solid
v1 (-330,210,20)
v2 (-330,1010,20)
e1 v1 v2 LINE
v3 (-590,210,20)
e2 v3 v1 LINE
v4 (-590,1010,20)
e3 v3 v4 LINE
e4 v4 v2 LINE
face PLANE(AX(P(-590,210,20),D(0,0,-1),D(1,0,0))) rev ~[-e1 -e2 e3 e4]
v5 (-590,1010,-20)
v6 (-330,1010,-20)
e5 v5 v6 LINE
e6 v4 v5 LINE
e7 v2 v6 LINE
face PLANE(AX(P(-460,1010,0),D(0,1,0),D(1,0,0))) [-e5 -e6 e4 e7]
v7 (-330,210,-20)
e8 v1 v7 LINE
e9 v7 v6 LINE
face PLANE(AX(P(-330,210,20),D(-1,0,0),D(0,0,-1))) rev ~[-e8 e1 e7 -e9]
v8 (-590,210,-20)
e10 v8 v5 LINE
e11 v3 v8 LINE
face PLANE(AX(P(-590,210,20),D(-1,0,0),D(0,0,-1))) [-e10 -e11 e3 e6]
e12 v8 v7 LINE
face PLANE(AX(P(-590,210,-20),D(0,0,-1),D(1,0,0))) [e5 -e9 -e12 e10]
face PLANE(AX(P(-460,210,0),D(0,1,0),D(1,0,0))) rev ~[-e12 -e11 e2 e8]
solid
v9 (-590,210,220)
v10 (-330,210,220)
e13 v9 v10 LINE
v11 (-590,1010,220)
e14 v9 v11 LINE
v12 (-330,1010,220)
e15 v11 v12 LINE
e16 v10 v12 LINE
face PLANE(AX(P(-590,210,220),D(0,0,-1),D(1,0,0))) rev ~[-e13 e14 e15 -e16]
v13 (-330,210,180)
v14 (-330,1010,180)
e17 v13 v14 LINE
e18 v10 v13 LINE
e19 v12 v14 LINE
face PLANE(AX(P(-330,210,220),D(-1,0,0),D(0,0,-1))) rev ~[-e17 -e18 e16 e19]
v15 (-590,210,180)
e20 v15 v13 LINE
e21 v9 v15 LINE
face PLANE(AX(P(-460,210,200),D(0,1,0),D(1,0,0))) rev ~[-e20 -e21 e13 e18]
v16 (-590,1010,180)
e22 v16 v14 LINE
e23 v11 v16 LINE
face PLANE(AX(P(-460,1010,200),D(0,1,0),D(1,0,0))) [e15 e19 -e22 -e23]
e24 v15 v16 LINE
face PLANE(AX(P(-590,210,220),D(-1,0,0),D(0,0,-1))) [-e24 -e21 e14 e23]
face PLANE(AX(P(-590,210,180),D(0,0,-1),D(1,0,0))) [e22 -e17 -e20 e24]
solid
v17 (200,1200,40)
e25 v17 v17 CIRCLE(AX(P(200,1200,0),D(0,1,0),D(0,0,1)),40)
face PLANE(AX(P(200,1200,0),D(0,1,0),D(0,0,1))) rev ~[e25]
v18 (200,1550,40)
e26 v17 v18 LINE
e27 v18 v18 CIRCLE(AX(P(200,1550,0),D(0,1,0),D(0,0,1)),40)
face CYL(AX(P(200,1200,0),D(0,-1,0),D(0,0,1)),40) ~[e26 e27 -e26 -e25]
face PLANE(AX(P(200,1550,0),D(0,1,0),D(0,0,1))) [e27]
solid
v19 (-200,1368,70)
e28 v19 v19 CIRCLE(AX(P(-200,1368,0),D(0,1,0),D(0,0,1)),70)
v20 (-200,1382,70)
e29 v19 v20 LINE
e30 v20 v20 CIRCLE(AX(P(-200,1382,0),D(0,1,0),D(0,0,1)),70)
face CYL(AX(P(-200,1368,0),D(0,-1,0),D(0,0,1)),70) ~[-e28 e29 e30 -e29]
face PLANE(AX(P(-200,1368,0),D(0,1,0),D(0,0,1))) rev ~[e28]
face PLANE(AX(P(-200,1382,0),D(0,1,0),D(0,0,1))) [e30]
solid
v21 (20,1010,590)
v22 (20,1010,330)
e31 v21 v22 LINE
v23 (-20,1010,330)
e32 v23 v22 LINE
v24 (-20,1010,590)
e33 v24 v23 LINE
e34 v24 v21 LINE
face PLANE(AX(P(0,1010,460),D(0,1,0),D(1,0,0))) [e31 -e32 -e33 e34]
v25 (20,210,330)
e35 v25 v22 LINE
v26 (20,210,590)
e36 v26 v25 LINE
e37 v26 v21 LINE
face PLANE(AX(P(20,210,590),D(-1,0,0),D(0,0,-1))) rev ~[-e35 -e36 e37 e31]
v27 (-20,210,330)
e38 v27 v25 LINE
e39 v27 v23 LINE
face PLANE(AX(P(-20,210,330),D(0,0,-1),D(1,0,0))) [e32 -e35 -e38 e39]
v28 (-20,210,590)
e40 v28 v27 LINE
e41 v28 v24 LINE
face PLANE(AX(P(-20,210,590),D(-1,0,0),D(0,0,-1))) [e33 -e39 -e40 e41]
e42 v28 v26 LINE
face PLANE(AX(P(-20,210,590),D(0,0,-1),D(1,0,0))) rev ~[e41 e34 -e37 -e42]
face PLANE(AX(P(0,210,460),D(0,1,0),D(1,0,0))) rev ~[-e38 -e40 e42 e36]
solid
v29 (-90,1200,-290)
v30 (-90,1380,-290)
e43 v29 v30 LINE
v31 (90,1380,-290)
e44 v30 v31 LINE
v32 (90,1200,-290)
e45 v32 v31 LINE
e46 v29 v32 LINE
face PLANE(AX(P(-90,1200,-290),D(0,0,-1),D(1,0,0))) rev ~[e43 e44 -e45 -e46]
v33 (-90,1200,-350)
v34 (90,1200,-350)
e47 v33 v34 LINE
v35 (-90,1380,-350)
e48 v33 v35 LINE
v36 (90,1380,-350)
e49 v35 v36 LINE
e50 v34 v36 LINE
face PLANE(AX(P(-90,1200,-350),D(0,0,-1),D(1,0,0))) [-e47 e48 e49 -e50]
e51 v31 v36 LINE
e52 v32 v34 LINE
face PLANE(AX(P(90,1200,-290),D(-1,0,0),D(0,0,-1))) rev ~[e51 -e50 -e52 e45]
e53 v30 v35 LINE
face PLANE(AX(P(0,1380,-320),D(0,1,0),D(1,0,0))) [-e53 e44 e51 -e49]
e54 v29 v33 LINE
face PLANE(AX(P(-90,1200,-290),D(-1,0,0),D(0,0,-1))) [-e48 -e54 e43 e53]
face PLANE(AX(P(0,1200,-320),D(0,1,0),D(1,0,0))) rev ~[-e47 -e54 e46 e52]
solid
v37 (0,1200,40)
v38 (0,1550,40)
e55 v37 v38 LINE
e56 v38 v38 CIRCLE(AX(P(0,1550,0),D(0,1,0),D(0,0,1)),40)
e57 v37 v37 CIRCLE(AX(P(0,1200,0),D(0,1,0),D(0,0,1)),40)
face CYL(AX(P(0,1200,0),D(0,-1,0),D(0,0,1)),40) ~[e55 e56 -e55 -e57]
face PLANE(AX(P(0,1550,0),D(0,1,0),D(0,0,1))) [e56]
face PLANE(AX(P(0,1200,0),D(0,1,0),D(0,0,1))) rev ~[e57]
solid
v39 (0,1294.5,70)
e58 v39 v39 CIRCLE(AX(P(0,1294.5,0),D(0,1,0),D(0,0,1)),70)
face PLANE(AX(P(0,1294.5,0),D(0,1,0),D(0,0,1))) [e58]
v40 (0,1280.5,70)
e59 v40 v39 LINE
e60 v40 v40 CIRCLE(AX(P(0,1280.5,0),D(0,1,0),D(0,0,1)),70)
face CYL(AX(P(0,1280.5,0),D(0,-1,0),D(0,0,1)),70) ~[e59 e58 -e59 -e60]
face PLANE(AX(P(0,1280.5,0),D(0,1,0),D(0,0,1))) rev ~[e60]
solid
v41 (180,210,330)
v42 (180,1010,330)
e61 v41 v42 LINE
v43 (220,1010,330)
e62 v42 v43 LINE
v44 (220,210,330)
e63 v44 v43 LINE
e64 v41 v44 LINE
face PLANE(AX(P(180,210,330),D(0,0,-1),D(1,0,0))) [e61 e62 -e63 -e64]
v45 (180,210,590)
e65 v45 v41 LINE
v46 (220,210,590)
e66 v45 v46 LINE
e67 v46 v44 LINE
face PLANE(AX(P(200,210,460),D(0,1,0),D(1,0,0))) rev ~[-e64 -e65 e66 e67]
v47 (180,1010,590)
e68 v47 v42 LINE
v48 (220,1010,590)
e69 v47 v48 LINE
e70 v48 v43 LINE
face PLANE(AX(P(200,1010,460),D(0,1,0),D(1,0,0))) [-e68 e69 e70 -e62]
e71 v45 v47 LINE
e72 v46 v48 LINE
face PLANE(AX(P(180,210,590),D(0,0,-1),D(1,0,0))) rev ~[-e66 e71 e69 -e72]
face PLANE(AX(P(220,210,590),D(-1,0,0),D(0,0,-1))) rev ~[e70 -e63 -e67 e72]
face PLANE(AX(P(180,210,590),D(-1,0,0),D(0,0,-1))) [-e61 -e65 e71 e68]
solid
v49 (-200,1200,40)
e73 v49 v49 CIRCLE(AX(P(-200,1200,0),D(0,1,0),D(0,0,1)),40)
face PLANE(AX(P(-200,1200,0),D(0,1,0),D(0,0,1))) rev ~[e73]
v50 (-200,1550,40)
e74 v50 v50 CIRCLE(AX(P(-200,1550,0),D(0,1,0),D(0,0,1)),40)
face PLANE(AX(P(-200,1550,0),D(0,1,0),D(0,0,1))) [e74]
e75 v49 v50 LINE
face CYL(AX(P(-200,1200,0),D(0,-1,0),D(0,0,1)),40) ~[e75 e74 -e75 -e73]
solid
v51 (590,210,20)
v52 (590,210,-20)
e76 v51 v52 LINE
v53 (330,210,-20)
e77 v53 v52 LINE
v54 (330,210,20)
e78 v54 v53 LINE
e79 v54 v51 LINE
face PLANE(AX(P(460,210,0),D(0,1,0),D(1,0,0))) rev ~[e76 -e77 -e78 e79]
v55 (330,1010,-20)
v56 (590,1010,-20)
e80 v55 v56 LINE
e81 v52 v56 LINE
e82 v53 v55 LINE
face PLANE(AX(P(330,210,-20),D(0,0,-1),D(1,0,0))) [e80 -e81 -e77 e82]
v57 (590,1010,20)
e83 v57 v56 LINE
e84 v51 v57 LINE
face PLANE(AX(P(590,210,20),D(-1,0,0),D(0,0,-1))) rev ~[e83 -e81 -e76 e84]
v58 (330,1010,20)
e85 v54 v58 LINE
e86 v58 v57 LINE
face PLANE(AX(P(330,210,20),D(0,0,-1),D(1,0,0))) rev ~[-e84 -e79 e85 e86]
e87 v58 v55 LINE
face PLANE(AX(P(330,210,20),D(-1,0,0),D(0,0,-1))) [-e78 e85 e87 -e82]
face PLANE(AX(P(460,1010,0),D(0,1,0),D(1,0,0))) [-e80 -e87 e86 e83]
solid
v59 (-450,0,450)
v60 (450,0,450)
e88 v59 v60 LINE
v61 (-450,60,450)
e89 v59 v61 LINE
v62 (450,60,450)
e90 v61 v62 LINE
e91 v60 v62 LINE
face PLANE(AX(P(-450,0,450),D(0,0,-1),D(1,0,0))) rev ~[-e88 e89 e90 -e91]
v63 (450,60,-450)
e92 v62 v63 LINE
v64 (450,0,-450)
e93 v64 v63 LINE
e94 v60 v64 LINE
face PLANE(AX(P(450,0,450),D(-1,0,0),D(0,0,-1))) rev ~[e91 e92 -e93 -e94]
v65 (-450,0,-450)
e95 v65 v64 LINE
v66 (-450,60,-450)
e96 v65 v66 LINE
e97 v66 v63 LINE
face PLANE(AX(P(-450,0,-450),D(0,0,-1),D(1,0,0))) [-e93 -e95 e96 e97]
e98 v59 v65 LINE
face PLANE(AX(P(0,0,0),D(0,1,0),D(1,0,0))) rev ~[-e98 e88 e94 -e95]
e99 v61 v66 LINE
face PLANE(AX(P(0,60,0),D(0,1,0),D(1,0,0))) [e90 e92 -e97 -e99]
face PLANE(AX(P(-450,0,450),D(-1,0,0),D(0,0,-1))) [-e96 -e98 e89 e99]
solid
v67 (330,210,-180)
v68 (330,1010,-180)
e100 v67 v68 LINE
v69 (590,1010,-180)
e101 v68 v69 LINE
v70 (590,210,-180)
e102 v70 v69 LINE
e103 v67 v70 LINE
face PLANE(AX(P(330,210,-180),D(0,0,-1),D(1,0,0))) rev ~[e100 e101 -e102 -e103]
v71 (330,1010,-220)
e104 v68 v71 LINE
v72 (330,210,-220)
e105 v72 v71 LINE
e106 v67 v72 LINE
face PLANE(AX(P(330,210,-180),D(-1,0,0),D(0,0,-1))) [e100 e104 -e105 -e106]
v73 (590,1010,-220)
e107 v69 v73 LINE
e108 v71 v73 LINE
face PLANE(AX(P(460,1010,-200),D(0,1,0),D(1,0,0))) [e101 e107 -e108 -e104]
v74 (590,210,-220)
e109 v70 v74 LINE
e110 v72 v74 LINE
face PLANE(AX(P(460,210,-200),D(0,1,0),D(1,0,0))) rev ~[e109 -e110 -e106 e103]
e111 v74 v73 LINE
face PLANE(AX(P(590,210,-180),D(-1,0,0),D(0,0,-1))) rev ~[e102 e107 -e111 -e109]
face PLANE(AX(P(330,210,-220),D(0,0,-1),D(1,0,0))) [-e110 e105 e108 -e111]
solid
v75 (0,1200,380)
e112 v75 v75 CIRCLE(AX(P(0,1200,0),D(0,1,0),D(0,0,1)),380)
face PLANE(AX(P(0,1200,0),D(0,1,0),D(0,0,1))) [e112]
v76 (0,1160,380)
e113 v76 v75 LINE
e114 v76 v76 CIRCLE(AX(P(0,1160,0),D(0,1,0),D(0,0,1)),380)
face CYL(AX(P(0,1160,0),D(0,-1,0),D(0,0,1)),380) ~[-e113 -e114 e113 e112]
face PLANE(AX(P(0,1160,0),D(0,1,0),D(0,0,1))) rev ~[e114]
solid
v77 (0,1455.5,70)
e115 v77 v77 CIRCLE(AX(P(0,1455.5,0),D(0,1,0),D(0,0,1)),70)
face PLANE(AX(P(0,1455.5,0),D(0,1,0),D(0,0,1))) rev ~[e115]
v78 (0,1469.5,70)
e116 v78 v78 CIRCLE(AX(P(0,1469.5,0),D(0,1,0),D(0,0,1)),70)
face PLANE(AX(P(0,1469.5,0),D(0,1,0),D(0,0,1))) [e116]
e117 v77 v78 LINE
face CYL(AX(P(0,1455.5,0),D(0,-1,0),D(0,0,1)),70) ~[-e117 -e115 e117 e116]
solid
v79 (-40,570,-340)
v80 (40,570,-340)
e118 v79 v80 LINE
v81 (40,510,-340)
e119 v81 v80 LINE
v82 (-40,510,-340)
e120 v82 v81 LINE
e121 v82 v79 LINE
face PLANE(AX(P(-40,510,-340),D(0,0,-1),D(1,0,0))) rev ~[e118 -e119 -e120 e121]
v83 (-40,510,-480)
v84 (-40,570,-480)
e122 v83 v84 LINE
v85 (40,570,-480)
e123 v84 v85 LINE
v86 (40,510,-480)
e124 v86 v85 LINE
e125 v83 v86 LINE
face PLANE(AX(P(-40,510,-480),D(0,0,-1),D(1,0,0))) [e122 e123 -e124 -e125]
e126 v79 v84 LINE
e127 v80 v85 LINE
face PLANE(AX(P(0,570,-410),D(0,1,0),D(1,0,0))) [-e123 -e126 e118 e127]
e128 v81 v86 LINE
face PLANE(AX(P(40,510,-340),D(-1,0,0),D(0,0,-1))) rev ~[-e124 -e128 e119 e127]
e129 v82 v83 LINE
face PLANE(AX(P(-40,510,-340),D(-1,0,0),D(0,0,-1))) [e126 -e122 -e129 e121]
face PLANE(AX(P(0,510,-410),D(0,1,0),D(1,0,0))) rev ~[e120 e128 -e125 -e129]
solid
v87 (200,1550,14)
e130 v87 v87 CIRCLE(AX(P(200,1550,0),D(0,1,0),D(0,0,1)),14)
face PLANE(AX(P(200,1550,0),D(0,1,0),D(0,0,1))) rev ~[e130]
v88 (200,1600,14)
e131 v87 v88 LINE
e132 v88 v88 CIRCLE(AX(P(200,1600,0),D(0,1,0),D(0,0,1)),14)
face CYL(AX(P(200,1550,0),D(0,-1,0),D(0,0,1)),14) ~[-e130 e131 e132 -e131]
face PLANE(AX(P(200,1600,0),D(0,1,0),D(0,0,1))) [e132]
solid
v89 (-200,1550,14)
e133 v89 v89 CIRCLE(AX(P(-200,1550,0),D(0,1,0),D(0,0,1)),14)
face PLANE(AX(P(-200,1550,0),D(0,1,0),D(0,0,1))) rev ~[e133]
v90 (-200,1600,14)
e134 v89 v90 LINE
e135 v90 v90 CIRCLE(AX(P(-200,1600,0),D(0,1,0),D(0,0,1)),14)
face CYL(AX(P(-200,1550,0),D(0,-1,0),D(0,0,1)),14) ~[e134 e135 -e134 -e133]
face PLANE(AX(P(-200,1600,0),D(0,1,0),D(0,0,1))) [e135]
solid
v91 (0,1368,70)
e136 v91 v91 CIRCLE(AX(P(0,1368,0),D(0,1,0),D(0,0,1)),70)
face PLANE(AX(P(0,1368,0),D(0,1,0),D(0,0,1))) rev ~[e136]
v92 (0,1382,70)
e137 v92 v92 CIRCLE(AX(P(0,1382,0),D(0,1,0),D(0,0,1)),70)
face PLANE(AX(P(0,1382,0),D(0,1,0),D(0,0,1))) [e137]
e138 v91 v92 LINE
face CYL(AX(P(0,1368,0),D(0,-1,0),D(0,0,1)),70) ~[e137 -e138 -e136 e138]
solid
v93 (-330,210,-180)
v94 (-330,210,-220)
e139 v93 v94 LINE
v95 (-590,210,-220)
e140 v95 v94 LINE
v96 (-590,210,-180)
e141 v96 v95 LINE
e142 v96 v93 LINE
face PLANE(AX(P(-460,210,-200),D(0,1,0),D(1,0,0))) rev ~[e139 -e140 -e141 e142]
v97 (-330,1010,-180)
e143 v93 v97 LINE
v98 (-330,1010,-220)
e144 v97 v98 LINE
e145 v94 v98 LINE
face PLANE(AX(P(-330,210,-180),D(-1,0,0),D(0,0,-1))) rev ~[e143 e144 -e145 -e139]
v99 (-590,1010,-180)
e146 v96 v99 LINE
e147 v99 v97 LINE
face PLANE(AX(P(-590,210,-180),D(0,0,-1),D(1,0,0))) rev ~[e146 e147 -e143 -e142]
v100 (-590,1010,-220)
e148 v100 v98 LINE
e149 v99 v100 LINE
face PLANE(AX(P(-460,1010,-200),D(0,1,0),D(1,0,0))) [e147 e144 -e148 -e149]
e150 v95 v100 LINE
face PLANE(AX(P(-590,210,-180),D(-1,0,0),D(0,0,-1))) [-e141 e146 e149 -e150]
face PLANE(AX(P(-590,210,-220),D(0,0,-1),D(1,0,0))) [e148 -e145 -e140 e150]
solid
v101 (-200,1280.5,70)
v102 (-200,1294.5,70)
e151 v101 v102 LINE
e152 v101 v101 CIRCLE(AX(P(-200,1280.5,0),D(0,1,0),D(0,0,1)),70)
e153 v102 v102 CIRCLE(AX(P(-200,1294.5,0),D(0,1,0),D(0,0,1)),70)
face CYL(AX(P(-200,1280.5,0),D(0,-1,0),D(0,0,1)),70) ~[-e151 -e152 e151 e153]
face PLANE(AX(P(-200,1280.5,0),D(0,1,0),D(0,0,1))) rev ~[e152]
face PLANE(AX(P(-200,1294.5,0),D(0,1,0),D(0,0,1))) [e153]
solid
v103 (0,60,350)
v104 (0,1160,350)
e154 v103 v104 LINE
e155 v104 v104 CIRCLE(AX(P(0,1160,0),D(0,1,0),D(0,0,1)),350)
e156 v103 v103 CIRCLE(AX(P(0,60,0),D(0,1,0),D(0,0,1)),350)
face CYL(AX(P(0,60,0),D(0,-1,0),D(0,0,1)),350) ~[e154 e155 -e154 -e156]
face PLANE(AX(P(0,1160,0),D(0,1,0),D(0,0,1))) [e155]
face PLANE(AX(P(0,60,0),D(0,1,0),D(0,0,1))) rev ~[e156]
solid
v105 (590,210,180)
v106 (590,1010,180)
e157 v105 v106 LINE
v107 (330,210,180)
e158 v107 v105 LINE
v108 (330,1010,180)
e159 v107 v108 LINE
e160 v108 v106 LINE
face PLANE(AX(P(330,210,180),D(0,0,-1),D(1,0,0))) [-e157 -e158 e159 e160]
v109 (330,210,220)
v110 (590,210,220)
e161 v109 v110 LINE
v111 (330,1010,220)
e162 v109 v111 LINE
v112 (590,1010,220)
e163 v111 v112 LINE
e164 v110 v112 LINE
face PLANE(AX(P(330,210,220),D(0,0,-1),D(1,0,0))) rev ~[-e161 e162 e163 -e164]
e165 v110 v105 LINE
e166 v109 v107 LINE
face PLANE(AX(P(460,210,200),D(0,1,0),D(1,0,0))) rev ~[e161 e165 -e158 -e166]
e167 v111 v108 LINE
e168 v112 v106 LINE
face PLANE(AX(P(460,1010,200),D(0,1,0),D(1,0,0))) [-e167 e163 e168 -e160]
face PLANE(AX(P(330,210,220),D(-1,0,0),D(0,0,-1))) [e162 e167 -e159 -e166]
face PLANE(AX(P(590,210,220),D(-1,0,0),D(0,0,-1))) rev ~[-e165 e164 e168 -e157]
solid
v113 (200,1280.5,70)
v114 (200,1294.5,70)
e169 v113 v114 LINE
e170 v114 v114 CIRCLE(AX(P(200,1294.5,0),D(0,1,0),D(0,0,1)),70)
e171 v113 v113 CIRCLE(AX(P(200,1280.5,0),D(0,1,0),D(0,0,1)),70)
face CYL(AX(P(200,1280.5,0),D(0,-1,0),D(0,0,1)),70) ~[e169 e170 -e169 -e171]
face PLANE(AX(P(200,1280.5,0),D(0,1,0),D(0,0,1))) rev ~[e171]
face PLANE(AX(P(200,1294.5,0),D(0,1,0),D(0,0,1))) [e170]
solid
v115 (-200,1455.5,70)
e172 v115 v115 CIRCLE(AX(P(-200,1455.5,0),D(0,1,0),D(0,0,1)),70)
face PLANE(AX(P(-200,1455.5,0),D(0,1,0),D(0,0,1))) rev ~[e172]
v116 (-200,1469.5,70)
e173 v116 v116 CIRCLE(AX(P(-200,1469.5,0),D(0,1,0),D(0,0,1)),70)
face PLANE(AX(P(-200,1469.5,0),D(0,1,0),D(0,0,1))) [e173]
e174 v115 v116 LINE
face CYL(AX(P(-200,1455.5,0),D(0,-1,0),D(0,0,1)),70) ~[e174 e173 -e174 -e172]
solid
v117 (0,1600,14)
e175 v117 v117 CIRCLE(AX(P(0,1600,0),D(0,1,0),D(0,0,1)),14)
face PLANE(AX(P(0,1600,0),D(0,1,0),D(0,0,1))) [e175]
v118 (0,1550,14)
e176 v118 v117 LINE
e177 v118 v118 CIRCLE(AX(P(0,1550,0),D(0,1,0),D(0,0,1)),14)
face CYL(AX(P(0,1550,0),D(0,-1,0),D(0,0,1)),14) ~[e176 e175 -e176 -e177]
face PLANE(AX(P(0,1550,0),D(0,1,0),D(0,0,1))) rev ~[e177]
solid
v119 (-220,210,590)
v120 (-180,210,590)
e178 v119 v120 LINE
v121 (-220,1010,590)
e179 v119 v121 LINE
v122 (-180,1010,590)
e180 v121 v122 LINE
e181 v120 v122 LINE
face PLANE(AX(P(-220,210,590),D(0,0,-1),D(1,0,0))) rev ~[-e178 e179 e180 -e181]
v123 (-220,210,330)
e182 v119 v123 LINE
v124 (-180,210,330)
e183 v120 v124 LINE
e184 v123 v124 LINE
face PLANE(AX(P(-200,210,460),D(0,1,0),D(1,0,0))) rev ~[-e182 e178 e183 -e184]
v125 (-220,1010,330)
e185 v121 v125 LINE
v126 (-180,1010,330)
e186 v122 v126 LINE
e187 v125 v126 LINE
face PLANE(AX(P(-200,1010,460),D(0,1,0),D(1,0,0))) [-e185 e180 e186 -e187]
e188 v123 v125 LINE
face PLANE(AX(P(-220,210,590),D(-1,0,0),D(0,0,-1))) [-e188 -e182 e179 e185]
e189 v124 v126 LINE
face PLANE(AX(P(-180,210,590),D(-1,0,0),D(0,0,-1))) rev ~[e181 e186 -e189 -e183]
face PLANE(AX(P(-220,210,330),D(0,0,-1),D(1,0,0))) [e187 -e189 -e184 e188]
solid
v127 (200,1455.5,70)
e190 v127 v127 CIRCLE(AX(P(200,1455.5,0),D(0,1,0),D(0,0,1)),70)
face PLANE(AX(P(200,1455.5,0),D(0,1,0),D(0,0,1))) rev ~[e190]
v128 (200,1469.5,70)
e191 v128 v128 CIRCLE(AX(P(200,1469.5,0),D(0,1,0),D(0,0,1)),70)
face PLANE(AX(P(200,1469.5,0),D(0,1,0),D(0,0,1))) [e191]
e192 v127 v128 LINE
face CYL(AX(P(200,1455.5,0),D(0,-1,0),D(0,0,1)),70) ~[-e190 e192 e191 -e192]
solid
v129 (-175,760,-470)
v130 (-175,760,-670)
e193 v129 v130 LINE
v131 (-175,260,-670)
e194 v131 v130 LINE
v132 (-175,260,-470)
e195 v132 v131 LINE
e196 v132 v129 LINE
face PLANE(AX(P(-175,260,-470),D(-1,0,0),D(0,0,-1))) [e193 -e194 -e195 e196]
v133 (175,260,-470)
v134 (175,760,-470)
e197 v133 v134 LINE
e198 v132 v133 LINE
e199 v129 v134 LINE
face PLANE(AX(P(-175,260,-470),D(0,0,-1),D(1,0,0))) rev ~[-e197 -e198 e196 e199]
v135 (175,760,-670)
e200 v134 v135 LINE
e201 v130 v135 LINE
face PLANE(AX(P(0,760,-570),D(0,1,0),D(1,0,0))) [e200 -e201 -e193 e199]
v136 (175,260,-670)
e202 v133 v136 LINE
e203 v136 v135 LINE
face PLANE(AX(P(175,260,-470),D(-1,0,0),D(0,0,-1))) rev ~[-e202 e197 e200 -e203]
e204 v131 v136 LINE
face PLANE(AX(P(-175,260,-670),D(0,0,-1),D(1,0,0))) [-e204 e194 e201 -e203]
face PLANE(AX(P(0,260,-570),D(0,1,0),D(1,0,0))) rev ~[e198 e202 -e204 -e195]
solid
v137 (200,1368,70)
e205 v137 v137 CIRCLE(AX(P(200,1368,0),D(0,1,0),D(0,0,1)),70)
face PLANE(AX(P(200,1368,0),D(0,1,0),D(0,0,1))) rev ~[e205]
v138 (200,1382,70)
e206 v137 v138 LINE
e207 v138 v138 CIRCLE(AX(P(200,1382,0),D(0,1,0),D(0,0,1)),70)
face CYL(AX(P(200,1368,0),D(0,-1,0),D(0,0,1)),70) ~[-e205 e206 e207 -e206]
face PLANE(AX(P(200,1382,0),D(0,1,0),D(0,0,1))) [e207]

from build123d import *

# Parameters (mm, degrees)
SKETCH1_W                = 900
SKETCH1_H                = 900
BASE_DEPTH               = 60
TANK_START               = 60
SKETCH2_R                = 350
TANK_DEPTH               = 1100
LID_START                = 1160
SKETCH3_R                = 380
LID_DEPTH                = 40
FIN_START                = 210
SKETCH4_W                = 260
SKETCH4_H                = 40
FIN_X_1_DEPTH            = 800
SKETCH5_W                = 260
SKETCH5_H                = 40
FIN_X_1_2_DEPTH          = 800
SKETCH6_W                = 40
SKETCH6_H                = 260
FIN_Z_1_DEPTH            = 800
SKETCH7_W                = 260
SKETCH7_H                = 40
FIN_X_2_DEPTH            = 800
SKETCH8_W                = 260
SKETCH8_H                = 40
FIN_X_2_2_DEPTH          = 800
SKETCH9_W                = 40
SKETCH9_H                = 260
FIN_Z_2_DEPTH            = 800
SKETCH10_W               = 260
SKETCH10_H               = 40
FIN_X_3_DEPTH            = 800
SKETCH11_W               = 260
SKETCH11_H               = 40
FIN_X_3_2_DEPTH          = 800
SKETCH12_W               = 40
SKETCH12_H               = 260
FIN_Z_3_DEPTH            = 800
BUSHING_START            = 1200
SKETCH13_R               = 40
BUSHING_S_DEPTH          = 350
SHED_START               = 1280.5
SKETCH14_R               = 70
SHED_S_1_DEPTH           = 14
SHED_START_2             = 1368
SKETCH15_R               = 70
SHED_S_2_DEPTH           = 14
SHED_START_3             = 1455.5
SKETCH16_R               = 70
SHED_S_3_DEPTH           = 14
TERMINAL_START           = 1550
SKETCH17_R               = 14
TERMINAL_S_DEPTH         = 50
SKETCH18_R               = 40
BUSHING_L_DEPTH          = 350
SKETCH19_R               = 70
SHED_L_1_DEPTH           = 14
SKETCH20_R               = 70
SHED_L_2_DEPTH           = 14
SKETCH21_R               = 70
SHED_L_3_DEPTH           = 14
SKETCH22_R               = 14
TERMINAL_L_DEPTH         = 50
SKETCH23_R               = 40
BUSHING_SL_DEPTH         = 350
SKETCH24_R               = 70
SHED_SL_1_DEPTH          = 14
SKETCH25_R               = 70
SHED_SL_2_DEPTH          = 14
SKETCH26_R               = 70
SHED_SL_3_DEPTH          = 14
SKETCH27_R               = 14
TERMINAL_SL_DEPTH        = 50
POSITION_START           = 1200
SKETCH28_W               = 180
SKETCH28_H               = 60
POSITION_INDICATOR_DEPTH = 180
CONTROL_START            = 260
SKETCH29_W               = 350
SKETCH29_H               = 200
CONTROL_CABINET_DEPTH    = 500
CABINET_START            = 510
SKETCH30_W               = 80
SKETCH30_H               = 140
CABINET_BRACKET_DEPTH    = 60


with BuildPart() as part:
    # Sketch1 → Base (new body)
    with BuildSketch(Plane(origin=(0, 0, 0), x_dir=(1, 0, 0), z_dir=(0, 1, 0))):
        Rectangle(SKETCH1_W, SKETCH1_H)
    extrude(amount=BASE_DEPTH)


with BuildPart() as body_2:
    # Sketch2 → Tank (new body)
    with BuildSketch(Plane(origin=(0, 0, 0), x_dir=(1, 0, 0), z_dir=(0, 1, 0)).offset(TANK_START)):
        with Locations(Location((0, 0, 0), (0, 0, 270))):
            Circle(SKETCH2_R)
    extrude(amount=TANK_DEPTH)


with BuildPart() as body_3:
    # Sketch3 → Lid (new body)
    with BuildSketch(Plane(origin=(0, 0, 0), x_dir=(1, 0, 0), z_dir=(0, 1, 0)).offset(LID_START)):
        with Locations(Location((0, 0, 0), (0, 0, 270))):
            Circle(SKETCH3_R)
    extrude(amount=LID_DEPTH)


with BuildPart() as body_4:
    # Sketch4 → Fin _x 1 (new body)
    with BuildSketch(Plane(origin=(0, 0, 0), x_dir=(1, 0, 0), z_dir=(0, 1, 0)).offset(FIN_START)):
        with Locations((460, 200)):
            Rectangle(SKETCH4_W, SKETCH4_H)
    extrude(amount=FIN_X_1_DEPTH)


with BuildPart() as body_5:
    # Sketch5 → Fin -x 1 2 (new body)
    with BuildSketch(Plane(origin=(0, 0, 0), x_dir=(1, 0, 0), z_dir=(0, 1, 0)).offset(FIN_START)):
        with Locations((-460, 200)):
            Rectangle(SKETCH5_W, SKETCH5_H)
    extrude(amount=FIN_X_1_2_DEPTH)


with BuildPart() as body_6:
    # Sketch6 → Fin +z 1 (new body)
    with BuildSketch(Plane(origin=(0, 0, 0), x_dir=(1, 0, 0), z_dir=(0, 1, 0)).offset(FIN_START)):
        with Locations((-200, -460)):
            Rectangle(SKETCH6_W, SKETCH6_H)
    extrude(amount=FIN_Z_1_DEPTH)


with BuildPart() as body_7:
    # Sketch7 → Fin _x 2 (new body)
    with BuildSketch(Plane(origin=(0, 0, 0), x_dir=(1, 0, 0), z_dir=(0, 1, 0)).offset(FIN_START)):
        with Locations((460, 0)):
            Rectangle(SKETCH7_W, SKETCH7_H)
    extrude(amount=FIN_X_2_DEPTH)


with BuildPart() as body_8:
    # Sketch8 → Fin -x 2 2 (new body)
    with BuildSketch(Plane(origin=(0, 0, 0), x_dir=(1, 0, 0), z_dir=(0, 1, 0)).offset(FIN_START)):
        with Locations((-460, 0)):
            Rectangle(SKETCH8_W, SKETCH8_H)
    extrude(amount=FIN_X_2_2_DEPTH)


with BuildPart() as body_9:
    # Sketch9 → Fin +z 2 (new body)
    with BuildSketch(Plane(origin=(0, 0, 0), x_dir=(1, 0, 0), z_dir=(0, 1, 0)).offset(FIN_START)):
        with Locations((0, -460)):
            Rectangle(SKETCH9_W, SKETCH9_H)
    extrude(amount=FIN_Z_2_DEPTH)


with BuildPart() as body_10:
    # Sketch10 → Fin _x 3 (new body)
    with BuildSketch(Plane(origin=(0, 0, 0), x_dir=(1, 0, 0), z_dir=(0, 1, 0)).offset(FIN_START)):
        with Locations((460, -200)):
            Rectangle(SKETCH10_W, SKETCH10_H)
    extrude(amount=FIN_X_3_DEPTH)


with BuildPart() as body_11:
    # Sketch11 → Fin -x 3 2 (new body)
    with BuildSketch(Plane(origin=(0, 0, 0), x_dir=(1, 0, 0), z_dir=(0, 1, 0)).offset(FIN_START)):
        with Locations((-460, -200)):
            Rectangle(SKETCH11_W, SKETCH11_H)
    extrude(amount=FIN_X_3_2_DEPTH)


with BuildPart() as body_12:
    # Sketch12 → Fin +z 3 (new body)
    with BuildSketch(Plane(origin=(0, 0, 0), x_dir=(1, 0, 0), z_dir=(0, 1, 0)).offset(FIN_START)):
        with Locations((200, -460)):
            Rectangle(SKETCH12_W, SKETCH12_H)
    extrude(amount=FIN_Z_3_DEPTH)


with BuildPart() as body_13:
    # Sketch13 → Bushing S (new body)
    with BuildSketch(Plane(origin=(0, 0, 0), x_dir=(1, 0, 0), z_dir=(0, 1, 0)).offset(BUSHING_START)):
        with Locations(Location((-200, 0, 0), (0, 0, 270))):
            Circle(SKETCH13_R)
    extrude(amount=BUSHING_S_DEPTH)


with BuildPart() as body_14:
    # Sketch14 → Shed S 1 (new body)
    with BuildSketch(Plane(origin=(0, 0, 0), x_dir=(1, 0, 0), z_dir=(0, 1, 0)).offset(SHED_START)):
        with Locations(Location((-200, 0, 0), (0, 0, 270))):
            Circle(SKETCH14_R)
    extrude(amount=SHED_S_1_DEPTH)


with BuildPart() as body_15:
    # Sketch15 → Shed S 2 (new body)
    with BuildSketch(Plane(origin=(0, 0, 0), x_dir=(1, 0, 0), z_dir=(0, 1, 0)).offset(SHED_START_2)):
        with Locations(Location((-200, 0, 0), (0, 0, 270))):
            Circle(SKETCH15_R)
    extrude(amount=SHED_S_2_DEPTH)


with BuildPart() as body_16:
    # Sketch16 → Shed S 3 (new body)
    with BuildSketch(Plane(origin=(0, 0, 0), x_dir=(1, 0, 0), z_dir=(0, 1, 0)).offset(SHED_START_3)):
        with Locations(Location((-200, 0, 0), (0, 0, 270))):
            Circle(SKETCH16_R)
    extrude(amount=SHED_S_3_DEPTH)


with BuildPart() as body_17:
    # Sketch17 → Terminal S (new body)
    with BuildSketch(Plane(origin=(0, 0, 0), x_dir=(1, 0, 0), z_dir=(0, 1, 0)).offset(TERMINAL_START)):
        with Locations(Location((-200, 0, 0), (0, 0, 270))):
            Circle(SKETCH17_R)
    extrude(amount=TERMINAL_S_DEPTH)


with BuildPart() as body_18:
    # Sketch18 → Bushing L (new body)
    with BuildSketch(Plane(origin=(0, 0, 0), x_dir=(1, 0, 0), z_dir=(0, 1, 0)).offset(BUSHING_START)):
        with Locations(Location((0, 0, 0), (0, 0, 270))):
            Circle(SKETCH18_R)
    extrude(amount=BUSHING_L_DEPTH)


with BuildPart() as body_19:
    # Sketch19 → Shed L 1 (new body)
    with BuildSketch(Plane(origin=(0, 0, 0), x_dir=(1, 0, 0), z_dir=(0, 1, 0)).offset(SHED_START)):
        with Locations(Location((0, 0, 0), (0, 0, 270))):
            Circle(SKETCH19_R)
    extrude(amount=SHED_L_1_DEPTH)


with BuildPart() as body_20:
    # Sketch20 → Shed L 2 (new body)
    with BuildSketch(Plane(origin=(0, 0, 0), x_dir=(1, 0, 0), z_dir=(0, 1, 0)).offset(SHED_START_2)):
        with Locations(Location((0, 0, 0), (0, 0, 270))):
            Circle(SKETCH20_R)
    extrude(amount=SHED_L_2_DEPTH)


with BuildPart() as body_21:
    # Sketch21 → Shed L 3 (new body)
    with BuildSketch(Plane(origin=(0, 0, 0), x_dir=(1, 0, 0), z_dir=(0, 1, 0)).offset(SHED_START_3)):
        with Locations(Location((0, 0, 0), (0, 0, 270))):
            Circle(SKETCH21_R)
    extrude(amount=SHED_L_3_DEPTH)


with BuildPart() as body_22:
    # Sketch22 → Terminal L (new body)
    with BuildSketch(Plane(origin=(0, 0, 0), x_dir=(1, 0, 0), z_dir=(0, 1, 0)).offset(TERMINAL_START)):
        with Locations(Location((0, 0, 0), (0, 0, 270))):
            Circle(SKETCH22_R)
    extrude(amount=TERMINAL_L_DEPTH)


with BuildPart() as body_23:
    # Sketch23 → Bushing SL (new body)
    with BuildSketch(Plane(origin=(0, 0, 0), x_dir=(1, 0, 0), z_dir=(0, 1, 0)).offset(BUSHING_START)):
        with Locations(Location((200, 0, 0), (0, 0, 270))):
            Circle(SKETCH23_R)
    extrude(amount=BUSHING_SL_DEPTH)


with BuildPart() as body_24:
    # Sketch24 → Shed SL 1 (new body)
    with BuildSketch(Plane(origin=(0, 0, 0), x_dir=(1, 0, 0), z_dir=(0, 1, 0)).offset(SHED_START)):
        with Locations(Location((200, 0, 0), (0, 0, 270))):
            Circle(SKETCH24_R)
    extrude(amount=SHED_SL_1_DEPTH)


with BuildPart() as body_25:
    # Sketch25 → Shed SL 2 (new body)
    with BuildSketch(Plane(origin=(0, 0, 0), x_dir=(1, 0, 0), z_dir=(0, 1, 0)).offset(SHED_START_2)):
        with Locations(Location((200, 0, 0), (0, 0, 270))):
            Circle(SKETCH25_R)
    extrude(amount=SHED_SL_2_DEPTH)


with BuildPart() as body_26:
    # Sketch26 → Shed SL 3 (new body)
    with BuildSketch(Plane(origin=(0, 0, 0), x_dir=(1, 0, 0), z_dir=(0, 1, 0)).offset(SHED_START_3)):
        with Locations(Location((200, 0, 0), (0, 0, 270))):
            Circle(SKETCH26_R)
    extrude(amount=SHED_SL_3_DEPTH)


with BuildPart() as body_27:
    # Sketch27 → Terminal SL (new body)
    with BuildSketch(Plane(origin=(0, 0, 0), x_dir=(1, 0, 0), z_dir=(0, 1, 0)).offset(TERMINAL_START)):
        with Locations(Location((200, 0, 0), (0, 0, 270))):
            Circle(SKETCH27_R)
    extrude(amount=TERMINAL_SL_DEPTH)


with BuildPart() as body_28:
    # Sketch28 → Position indicator (new body)
    with BuildSketch(Plane(origin=(0, 0, 0), x_dir=(1, 0, 0), z_dir=(0, 1, 0)).offset(POSITION_START)):
        with Locations((0, 320)):
            Rectangle(SKETCH28_W, SKETCH28_H)
    extrude(amount=POSITION_INDICATOR_DEPTH)


with BuildPart() as body_29:
    # Sketch29 → Control cabinet (new body)
    with BuildSketch(Plane(origin=(0, 0, 0), x_dir=(1, 0, 0), z_dir=(0, 1, 0)).offset(CONTROL_START)):
        with Locations((0, 570)):
            Rectangle(SKETCH29_W, SKETCH29_H)
    extrude(amount=CONTROL_CABINET_DEPTH)


with BuildPart() as body_30:
    # Sketch30 → Cabinet bracket (new body)
    with BuildSketch(Plane(origin=(0, 0, 0), x_dir=(1, 0, 0), z_dir=(0, 1, 0)).offset(CABINET_START)):
        with Locations((0, 410)):
            Rectangle(SKETCH30_W, SKETCH30_H)
    extrude(amount=CABINET_BRACKET_DEPTH)


solid = Compound([part.part, body_2.part, body_3.part, body_4.part, body_5.part, body_6.part, body_7.part, body_8.part, body_9.part, body_10.part, body_11.part, body_12.part, body_13.part, body_14.part, body_15.part, body_16.part, body_17.part, body_18.part, body_19.part, body_20.part, body_21.part, body_22.part, body_23.part, body_24.part, body_25.part, body_26.part, body_27.part, body_28.part, body_29.part, body_30.part])
